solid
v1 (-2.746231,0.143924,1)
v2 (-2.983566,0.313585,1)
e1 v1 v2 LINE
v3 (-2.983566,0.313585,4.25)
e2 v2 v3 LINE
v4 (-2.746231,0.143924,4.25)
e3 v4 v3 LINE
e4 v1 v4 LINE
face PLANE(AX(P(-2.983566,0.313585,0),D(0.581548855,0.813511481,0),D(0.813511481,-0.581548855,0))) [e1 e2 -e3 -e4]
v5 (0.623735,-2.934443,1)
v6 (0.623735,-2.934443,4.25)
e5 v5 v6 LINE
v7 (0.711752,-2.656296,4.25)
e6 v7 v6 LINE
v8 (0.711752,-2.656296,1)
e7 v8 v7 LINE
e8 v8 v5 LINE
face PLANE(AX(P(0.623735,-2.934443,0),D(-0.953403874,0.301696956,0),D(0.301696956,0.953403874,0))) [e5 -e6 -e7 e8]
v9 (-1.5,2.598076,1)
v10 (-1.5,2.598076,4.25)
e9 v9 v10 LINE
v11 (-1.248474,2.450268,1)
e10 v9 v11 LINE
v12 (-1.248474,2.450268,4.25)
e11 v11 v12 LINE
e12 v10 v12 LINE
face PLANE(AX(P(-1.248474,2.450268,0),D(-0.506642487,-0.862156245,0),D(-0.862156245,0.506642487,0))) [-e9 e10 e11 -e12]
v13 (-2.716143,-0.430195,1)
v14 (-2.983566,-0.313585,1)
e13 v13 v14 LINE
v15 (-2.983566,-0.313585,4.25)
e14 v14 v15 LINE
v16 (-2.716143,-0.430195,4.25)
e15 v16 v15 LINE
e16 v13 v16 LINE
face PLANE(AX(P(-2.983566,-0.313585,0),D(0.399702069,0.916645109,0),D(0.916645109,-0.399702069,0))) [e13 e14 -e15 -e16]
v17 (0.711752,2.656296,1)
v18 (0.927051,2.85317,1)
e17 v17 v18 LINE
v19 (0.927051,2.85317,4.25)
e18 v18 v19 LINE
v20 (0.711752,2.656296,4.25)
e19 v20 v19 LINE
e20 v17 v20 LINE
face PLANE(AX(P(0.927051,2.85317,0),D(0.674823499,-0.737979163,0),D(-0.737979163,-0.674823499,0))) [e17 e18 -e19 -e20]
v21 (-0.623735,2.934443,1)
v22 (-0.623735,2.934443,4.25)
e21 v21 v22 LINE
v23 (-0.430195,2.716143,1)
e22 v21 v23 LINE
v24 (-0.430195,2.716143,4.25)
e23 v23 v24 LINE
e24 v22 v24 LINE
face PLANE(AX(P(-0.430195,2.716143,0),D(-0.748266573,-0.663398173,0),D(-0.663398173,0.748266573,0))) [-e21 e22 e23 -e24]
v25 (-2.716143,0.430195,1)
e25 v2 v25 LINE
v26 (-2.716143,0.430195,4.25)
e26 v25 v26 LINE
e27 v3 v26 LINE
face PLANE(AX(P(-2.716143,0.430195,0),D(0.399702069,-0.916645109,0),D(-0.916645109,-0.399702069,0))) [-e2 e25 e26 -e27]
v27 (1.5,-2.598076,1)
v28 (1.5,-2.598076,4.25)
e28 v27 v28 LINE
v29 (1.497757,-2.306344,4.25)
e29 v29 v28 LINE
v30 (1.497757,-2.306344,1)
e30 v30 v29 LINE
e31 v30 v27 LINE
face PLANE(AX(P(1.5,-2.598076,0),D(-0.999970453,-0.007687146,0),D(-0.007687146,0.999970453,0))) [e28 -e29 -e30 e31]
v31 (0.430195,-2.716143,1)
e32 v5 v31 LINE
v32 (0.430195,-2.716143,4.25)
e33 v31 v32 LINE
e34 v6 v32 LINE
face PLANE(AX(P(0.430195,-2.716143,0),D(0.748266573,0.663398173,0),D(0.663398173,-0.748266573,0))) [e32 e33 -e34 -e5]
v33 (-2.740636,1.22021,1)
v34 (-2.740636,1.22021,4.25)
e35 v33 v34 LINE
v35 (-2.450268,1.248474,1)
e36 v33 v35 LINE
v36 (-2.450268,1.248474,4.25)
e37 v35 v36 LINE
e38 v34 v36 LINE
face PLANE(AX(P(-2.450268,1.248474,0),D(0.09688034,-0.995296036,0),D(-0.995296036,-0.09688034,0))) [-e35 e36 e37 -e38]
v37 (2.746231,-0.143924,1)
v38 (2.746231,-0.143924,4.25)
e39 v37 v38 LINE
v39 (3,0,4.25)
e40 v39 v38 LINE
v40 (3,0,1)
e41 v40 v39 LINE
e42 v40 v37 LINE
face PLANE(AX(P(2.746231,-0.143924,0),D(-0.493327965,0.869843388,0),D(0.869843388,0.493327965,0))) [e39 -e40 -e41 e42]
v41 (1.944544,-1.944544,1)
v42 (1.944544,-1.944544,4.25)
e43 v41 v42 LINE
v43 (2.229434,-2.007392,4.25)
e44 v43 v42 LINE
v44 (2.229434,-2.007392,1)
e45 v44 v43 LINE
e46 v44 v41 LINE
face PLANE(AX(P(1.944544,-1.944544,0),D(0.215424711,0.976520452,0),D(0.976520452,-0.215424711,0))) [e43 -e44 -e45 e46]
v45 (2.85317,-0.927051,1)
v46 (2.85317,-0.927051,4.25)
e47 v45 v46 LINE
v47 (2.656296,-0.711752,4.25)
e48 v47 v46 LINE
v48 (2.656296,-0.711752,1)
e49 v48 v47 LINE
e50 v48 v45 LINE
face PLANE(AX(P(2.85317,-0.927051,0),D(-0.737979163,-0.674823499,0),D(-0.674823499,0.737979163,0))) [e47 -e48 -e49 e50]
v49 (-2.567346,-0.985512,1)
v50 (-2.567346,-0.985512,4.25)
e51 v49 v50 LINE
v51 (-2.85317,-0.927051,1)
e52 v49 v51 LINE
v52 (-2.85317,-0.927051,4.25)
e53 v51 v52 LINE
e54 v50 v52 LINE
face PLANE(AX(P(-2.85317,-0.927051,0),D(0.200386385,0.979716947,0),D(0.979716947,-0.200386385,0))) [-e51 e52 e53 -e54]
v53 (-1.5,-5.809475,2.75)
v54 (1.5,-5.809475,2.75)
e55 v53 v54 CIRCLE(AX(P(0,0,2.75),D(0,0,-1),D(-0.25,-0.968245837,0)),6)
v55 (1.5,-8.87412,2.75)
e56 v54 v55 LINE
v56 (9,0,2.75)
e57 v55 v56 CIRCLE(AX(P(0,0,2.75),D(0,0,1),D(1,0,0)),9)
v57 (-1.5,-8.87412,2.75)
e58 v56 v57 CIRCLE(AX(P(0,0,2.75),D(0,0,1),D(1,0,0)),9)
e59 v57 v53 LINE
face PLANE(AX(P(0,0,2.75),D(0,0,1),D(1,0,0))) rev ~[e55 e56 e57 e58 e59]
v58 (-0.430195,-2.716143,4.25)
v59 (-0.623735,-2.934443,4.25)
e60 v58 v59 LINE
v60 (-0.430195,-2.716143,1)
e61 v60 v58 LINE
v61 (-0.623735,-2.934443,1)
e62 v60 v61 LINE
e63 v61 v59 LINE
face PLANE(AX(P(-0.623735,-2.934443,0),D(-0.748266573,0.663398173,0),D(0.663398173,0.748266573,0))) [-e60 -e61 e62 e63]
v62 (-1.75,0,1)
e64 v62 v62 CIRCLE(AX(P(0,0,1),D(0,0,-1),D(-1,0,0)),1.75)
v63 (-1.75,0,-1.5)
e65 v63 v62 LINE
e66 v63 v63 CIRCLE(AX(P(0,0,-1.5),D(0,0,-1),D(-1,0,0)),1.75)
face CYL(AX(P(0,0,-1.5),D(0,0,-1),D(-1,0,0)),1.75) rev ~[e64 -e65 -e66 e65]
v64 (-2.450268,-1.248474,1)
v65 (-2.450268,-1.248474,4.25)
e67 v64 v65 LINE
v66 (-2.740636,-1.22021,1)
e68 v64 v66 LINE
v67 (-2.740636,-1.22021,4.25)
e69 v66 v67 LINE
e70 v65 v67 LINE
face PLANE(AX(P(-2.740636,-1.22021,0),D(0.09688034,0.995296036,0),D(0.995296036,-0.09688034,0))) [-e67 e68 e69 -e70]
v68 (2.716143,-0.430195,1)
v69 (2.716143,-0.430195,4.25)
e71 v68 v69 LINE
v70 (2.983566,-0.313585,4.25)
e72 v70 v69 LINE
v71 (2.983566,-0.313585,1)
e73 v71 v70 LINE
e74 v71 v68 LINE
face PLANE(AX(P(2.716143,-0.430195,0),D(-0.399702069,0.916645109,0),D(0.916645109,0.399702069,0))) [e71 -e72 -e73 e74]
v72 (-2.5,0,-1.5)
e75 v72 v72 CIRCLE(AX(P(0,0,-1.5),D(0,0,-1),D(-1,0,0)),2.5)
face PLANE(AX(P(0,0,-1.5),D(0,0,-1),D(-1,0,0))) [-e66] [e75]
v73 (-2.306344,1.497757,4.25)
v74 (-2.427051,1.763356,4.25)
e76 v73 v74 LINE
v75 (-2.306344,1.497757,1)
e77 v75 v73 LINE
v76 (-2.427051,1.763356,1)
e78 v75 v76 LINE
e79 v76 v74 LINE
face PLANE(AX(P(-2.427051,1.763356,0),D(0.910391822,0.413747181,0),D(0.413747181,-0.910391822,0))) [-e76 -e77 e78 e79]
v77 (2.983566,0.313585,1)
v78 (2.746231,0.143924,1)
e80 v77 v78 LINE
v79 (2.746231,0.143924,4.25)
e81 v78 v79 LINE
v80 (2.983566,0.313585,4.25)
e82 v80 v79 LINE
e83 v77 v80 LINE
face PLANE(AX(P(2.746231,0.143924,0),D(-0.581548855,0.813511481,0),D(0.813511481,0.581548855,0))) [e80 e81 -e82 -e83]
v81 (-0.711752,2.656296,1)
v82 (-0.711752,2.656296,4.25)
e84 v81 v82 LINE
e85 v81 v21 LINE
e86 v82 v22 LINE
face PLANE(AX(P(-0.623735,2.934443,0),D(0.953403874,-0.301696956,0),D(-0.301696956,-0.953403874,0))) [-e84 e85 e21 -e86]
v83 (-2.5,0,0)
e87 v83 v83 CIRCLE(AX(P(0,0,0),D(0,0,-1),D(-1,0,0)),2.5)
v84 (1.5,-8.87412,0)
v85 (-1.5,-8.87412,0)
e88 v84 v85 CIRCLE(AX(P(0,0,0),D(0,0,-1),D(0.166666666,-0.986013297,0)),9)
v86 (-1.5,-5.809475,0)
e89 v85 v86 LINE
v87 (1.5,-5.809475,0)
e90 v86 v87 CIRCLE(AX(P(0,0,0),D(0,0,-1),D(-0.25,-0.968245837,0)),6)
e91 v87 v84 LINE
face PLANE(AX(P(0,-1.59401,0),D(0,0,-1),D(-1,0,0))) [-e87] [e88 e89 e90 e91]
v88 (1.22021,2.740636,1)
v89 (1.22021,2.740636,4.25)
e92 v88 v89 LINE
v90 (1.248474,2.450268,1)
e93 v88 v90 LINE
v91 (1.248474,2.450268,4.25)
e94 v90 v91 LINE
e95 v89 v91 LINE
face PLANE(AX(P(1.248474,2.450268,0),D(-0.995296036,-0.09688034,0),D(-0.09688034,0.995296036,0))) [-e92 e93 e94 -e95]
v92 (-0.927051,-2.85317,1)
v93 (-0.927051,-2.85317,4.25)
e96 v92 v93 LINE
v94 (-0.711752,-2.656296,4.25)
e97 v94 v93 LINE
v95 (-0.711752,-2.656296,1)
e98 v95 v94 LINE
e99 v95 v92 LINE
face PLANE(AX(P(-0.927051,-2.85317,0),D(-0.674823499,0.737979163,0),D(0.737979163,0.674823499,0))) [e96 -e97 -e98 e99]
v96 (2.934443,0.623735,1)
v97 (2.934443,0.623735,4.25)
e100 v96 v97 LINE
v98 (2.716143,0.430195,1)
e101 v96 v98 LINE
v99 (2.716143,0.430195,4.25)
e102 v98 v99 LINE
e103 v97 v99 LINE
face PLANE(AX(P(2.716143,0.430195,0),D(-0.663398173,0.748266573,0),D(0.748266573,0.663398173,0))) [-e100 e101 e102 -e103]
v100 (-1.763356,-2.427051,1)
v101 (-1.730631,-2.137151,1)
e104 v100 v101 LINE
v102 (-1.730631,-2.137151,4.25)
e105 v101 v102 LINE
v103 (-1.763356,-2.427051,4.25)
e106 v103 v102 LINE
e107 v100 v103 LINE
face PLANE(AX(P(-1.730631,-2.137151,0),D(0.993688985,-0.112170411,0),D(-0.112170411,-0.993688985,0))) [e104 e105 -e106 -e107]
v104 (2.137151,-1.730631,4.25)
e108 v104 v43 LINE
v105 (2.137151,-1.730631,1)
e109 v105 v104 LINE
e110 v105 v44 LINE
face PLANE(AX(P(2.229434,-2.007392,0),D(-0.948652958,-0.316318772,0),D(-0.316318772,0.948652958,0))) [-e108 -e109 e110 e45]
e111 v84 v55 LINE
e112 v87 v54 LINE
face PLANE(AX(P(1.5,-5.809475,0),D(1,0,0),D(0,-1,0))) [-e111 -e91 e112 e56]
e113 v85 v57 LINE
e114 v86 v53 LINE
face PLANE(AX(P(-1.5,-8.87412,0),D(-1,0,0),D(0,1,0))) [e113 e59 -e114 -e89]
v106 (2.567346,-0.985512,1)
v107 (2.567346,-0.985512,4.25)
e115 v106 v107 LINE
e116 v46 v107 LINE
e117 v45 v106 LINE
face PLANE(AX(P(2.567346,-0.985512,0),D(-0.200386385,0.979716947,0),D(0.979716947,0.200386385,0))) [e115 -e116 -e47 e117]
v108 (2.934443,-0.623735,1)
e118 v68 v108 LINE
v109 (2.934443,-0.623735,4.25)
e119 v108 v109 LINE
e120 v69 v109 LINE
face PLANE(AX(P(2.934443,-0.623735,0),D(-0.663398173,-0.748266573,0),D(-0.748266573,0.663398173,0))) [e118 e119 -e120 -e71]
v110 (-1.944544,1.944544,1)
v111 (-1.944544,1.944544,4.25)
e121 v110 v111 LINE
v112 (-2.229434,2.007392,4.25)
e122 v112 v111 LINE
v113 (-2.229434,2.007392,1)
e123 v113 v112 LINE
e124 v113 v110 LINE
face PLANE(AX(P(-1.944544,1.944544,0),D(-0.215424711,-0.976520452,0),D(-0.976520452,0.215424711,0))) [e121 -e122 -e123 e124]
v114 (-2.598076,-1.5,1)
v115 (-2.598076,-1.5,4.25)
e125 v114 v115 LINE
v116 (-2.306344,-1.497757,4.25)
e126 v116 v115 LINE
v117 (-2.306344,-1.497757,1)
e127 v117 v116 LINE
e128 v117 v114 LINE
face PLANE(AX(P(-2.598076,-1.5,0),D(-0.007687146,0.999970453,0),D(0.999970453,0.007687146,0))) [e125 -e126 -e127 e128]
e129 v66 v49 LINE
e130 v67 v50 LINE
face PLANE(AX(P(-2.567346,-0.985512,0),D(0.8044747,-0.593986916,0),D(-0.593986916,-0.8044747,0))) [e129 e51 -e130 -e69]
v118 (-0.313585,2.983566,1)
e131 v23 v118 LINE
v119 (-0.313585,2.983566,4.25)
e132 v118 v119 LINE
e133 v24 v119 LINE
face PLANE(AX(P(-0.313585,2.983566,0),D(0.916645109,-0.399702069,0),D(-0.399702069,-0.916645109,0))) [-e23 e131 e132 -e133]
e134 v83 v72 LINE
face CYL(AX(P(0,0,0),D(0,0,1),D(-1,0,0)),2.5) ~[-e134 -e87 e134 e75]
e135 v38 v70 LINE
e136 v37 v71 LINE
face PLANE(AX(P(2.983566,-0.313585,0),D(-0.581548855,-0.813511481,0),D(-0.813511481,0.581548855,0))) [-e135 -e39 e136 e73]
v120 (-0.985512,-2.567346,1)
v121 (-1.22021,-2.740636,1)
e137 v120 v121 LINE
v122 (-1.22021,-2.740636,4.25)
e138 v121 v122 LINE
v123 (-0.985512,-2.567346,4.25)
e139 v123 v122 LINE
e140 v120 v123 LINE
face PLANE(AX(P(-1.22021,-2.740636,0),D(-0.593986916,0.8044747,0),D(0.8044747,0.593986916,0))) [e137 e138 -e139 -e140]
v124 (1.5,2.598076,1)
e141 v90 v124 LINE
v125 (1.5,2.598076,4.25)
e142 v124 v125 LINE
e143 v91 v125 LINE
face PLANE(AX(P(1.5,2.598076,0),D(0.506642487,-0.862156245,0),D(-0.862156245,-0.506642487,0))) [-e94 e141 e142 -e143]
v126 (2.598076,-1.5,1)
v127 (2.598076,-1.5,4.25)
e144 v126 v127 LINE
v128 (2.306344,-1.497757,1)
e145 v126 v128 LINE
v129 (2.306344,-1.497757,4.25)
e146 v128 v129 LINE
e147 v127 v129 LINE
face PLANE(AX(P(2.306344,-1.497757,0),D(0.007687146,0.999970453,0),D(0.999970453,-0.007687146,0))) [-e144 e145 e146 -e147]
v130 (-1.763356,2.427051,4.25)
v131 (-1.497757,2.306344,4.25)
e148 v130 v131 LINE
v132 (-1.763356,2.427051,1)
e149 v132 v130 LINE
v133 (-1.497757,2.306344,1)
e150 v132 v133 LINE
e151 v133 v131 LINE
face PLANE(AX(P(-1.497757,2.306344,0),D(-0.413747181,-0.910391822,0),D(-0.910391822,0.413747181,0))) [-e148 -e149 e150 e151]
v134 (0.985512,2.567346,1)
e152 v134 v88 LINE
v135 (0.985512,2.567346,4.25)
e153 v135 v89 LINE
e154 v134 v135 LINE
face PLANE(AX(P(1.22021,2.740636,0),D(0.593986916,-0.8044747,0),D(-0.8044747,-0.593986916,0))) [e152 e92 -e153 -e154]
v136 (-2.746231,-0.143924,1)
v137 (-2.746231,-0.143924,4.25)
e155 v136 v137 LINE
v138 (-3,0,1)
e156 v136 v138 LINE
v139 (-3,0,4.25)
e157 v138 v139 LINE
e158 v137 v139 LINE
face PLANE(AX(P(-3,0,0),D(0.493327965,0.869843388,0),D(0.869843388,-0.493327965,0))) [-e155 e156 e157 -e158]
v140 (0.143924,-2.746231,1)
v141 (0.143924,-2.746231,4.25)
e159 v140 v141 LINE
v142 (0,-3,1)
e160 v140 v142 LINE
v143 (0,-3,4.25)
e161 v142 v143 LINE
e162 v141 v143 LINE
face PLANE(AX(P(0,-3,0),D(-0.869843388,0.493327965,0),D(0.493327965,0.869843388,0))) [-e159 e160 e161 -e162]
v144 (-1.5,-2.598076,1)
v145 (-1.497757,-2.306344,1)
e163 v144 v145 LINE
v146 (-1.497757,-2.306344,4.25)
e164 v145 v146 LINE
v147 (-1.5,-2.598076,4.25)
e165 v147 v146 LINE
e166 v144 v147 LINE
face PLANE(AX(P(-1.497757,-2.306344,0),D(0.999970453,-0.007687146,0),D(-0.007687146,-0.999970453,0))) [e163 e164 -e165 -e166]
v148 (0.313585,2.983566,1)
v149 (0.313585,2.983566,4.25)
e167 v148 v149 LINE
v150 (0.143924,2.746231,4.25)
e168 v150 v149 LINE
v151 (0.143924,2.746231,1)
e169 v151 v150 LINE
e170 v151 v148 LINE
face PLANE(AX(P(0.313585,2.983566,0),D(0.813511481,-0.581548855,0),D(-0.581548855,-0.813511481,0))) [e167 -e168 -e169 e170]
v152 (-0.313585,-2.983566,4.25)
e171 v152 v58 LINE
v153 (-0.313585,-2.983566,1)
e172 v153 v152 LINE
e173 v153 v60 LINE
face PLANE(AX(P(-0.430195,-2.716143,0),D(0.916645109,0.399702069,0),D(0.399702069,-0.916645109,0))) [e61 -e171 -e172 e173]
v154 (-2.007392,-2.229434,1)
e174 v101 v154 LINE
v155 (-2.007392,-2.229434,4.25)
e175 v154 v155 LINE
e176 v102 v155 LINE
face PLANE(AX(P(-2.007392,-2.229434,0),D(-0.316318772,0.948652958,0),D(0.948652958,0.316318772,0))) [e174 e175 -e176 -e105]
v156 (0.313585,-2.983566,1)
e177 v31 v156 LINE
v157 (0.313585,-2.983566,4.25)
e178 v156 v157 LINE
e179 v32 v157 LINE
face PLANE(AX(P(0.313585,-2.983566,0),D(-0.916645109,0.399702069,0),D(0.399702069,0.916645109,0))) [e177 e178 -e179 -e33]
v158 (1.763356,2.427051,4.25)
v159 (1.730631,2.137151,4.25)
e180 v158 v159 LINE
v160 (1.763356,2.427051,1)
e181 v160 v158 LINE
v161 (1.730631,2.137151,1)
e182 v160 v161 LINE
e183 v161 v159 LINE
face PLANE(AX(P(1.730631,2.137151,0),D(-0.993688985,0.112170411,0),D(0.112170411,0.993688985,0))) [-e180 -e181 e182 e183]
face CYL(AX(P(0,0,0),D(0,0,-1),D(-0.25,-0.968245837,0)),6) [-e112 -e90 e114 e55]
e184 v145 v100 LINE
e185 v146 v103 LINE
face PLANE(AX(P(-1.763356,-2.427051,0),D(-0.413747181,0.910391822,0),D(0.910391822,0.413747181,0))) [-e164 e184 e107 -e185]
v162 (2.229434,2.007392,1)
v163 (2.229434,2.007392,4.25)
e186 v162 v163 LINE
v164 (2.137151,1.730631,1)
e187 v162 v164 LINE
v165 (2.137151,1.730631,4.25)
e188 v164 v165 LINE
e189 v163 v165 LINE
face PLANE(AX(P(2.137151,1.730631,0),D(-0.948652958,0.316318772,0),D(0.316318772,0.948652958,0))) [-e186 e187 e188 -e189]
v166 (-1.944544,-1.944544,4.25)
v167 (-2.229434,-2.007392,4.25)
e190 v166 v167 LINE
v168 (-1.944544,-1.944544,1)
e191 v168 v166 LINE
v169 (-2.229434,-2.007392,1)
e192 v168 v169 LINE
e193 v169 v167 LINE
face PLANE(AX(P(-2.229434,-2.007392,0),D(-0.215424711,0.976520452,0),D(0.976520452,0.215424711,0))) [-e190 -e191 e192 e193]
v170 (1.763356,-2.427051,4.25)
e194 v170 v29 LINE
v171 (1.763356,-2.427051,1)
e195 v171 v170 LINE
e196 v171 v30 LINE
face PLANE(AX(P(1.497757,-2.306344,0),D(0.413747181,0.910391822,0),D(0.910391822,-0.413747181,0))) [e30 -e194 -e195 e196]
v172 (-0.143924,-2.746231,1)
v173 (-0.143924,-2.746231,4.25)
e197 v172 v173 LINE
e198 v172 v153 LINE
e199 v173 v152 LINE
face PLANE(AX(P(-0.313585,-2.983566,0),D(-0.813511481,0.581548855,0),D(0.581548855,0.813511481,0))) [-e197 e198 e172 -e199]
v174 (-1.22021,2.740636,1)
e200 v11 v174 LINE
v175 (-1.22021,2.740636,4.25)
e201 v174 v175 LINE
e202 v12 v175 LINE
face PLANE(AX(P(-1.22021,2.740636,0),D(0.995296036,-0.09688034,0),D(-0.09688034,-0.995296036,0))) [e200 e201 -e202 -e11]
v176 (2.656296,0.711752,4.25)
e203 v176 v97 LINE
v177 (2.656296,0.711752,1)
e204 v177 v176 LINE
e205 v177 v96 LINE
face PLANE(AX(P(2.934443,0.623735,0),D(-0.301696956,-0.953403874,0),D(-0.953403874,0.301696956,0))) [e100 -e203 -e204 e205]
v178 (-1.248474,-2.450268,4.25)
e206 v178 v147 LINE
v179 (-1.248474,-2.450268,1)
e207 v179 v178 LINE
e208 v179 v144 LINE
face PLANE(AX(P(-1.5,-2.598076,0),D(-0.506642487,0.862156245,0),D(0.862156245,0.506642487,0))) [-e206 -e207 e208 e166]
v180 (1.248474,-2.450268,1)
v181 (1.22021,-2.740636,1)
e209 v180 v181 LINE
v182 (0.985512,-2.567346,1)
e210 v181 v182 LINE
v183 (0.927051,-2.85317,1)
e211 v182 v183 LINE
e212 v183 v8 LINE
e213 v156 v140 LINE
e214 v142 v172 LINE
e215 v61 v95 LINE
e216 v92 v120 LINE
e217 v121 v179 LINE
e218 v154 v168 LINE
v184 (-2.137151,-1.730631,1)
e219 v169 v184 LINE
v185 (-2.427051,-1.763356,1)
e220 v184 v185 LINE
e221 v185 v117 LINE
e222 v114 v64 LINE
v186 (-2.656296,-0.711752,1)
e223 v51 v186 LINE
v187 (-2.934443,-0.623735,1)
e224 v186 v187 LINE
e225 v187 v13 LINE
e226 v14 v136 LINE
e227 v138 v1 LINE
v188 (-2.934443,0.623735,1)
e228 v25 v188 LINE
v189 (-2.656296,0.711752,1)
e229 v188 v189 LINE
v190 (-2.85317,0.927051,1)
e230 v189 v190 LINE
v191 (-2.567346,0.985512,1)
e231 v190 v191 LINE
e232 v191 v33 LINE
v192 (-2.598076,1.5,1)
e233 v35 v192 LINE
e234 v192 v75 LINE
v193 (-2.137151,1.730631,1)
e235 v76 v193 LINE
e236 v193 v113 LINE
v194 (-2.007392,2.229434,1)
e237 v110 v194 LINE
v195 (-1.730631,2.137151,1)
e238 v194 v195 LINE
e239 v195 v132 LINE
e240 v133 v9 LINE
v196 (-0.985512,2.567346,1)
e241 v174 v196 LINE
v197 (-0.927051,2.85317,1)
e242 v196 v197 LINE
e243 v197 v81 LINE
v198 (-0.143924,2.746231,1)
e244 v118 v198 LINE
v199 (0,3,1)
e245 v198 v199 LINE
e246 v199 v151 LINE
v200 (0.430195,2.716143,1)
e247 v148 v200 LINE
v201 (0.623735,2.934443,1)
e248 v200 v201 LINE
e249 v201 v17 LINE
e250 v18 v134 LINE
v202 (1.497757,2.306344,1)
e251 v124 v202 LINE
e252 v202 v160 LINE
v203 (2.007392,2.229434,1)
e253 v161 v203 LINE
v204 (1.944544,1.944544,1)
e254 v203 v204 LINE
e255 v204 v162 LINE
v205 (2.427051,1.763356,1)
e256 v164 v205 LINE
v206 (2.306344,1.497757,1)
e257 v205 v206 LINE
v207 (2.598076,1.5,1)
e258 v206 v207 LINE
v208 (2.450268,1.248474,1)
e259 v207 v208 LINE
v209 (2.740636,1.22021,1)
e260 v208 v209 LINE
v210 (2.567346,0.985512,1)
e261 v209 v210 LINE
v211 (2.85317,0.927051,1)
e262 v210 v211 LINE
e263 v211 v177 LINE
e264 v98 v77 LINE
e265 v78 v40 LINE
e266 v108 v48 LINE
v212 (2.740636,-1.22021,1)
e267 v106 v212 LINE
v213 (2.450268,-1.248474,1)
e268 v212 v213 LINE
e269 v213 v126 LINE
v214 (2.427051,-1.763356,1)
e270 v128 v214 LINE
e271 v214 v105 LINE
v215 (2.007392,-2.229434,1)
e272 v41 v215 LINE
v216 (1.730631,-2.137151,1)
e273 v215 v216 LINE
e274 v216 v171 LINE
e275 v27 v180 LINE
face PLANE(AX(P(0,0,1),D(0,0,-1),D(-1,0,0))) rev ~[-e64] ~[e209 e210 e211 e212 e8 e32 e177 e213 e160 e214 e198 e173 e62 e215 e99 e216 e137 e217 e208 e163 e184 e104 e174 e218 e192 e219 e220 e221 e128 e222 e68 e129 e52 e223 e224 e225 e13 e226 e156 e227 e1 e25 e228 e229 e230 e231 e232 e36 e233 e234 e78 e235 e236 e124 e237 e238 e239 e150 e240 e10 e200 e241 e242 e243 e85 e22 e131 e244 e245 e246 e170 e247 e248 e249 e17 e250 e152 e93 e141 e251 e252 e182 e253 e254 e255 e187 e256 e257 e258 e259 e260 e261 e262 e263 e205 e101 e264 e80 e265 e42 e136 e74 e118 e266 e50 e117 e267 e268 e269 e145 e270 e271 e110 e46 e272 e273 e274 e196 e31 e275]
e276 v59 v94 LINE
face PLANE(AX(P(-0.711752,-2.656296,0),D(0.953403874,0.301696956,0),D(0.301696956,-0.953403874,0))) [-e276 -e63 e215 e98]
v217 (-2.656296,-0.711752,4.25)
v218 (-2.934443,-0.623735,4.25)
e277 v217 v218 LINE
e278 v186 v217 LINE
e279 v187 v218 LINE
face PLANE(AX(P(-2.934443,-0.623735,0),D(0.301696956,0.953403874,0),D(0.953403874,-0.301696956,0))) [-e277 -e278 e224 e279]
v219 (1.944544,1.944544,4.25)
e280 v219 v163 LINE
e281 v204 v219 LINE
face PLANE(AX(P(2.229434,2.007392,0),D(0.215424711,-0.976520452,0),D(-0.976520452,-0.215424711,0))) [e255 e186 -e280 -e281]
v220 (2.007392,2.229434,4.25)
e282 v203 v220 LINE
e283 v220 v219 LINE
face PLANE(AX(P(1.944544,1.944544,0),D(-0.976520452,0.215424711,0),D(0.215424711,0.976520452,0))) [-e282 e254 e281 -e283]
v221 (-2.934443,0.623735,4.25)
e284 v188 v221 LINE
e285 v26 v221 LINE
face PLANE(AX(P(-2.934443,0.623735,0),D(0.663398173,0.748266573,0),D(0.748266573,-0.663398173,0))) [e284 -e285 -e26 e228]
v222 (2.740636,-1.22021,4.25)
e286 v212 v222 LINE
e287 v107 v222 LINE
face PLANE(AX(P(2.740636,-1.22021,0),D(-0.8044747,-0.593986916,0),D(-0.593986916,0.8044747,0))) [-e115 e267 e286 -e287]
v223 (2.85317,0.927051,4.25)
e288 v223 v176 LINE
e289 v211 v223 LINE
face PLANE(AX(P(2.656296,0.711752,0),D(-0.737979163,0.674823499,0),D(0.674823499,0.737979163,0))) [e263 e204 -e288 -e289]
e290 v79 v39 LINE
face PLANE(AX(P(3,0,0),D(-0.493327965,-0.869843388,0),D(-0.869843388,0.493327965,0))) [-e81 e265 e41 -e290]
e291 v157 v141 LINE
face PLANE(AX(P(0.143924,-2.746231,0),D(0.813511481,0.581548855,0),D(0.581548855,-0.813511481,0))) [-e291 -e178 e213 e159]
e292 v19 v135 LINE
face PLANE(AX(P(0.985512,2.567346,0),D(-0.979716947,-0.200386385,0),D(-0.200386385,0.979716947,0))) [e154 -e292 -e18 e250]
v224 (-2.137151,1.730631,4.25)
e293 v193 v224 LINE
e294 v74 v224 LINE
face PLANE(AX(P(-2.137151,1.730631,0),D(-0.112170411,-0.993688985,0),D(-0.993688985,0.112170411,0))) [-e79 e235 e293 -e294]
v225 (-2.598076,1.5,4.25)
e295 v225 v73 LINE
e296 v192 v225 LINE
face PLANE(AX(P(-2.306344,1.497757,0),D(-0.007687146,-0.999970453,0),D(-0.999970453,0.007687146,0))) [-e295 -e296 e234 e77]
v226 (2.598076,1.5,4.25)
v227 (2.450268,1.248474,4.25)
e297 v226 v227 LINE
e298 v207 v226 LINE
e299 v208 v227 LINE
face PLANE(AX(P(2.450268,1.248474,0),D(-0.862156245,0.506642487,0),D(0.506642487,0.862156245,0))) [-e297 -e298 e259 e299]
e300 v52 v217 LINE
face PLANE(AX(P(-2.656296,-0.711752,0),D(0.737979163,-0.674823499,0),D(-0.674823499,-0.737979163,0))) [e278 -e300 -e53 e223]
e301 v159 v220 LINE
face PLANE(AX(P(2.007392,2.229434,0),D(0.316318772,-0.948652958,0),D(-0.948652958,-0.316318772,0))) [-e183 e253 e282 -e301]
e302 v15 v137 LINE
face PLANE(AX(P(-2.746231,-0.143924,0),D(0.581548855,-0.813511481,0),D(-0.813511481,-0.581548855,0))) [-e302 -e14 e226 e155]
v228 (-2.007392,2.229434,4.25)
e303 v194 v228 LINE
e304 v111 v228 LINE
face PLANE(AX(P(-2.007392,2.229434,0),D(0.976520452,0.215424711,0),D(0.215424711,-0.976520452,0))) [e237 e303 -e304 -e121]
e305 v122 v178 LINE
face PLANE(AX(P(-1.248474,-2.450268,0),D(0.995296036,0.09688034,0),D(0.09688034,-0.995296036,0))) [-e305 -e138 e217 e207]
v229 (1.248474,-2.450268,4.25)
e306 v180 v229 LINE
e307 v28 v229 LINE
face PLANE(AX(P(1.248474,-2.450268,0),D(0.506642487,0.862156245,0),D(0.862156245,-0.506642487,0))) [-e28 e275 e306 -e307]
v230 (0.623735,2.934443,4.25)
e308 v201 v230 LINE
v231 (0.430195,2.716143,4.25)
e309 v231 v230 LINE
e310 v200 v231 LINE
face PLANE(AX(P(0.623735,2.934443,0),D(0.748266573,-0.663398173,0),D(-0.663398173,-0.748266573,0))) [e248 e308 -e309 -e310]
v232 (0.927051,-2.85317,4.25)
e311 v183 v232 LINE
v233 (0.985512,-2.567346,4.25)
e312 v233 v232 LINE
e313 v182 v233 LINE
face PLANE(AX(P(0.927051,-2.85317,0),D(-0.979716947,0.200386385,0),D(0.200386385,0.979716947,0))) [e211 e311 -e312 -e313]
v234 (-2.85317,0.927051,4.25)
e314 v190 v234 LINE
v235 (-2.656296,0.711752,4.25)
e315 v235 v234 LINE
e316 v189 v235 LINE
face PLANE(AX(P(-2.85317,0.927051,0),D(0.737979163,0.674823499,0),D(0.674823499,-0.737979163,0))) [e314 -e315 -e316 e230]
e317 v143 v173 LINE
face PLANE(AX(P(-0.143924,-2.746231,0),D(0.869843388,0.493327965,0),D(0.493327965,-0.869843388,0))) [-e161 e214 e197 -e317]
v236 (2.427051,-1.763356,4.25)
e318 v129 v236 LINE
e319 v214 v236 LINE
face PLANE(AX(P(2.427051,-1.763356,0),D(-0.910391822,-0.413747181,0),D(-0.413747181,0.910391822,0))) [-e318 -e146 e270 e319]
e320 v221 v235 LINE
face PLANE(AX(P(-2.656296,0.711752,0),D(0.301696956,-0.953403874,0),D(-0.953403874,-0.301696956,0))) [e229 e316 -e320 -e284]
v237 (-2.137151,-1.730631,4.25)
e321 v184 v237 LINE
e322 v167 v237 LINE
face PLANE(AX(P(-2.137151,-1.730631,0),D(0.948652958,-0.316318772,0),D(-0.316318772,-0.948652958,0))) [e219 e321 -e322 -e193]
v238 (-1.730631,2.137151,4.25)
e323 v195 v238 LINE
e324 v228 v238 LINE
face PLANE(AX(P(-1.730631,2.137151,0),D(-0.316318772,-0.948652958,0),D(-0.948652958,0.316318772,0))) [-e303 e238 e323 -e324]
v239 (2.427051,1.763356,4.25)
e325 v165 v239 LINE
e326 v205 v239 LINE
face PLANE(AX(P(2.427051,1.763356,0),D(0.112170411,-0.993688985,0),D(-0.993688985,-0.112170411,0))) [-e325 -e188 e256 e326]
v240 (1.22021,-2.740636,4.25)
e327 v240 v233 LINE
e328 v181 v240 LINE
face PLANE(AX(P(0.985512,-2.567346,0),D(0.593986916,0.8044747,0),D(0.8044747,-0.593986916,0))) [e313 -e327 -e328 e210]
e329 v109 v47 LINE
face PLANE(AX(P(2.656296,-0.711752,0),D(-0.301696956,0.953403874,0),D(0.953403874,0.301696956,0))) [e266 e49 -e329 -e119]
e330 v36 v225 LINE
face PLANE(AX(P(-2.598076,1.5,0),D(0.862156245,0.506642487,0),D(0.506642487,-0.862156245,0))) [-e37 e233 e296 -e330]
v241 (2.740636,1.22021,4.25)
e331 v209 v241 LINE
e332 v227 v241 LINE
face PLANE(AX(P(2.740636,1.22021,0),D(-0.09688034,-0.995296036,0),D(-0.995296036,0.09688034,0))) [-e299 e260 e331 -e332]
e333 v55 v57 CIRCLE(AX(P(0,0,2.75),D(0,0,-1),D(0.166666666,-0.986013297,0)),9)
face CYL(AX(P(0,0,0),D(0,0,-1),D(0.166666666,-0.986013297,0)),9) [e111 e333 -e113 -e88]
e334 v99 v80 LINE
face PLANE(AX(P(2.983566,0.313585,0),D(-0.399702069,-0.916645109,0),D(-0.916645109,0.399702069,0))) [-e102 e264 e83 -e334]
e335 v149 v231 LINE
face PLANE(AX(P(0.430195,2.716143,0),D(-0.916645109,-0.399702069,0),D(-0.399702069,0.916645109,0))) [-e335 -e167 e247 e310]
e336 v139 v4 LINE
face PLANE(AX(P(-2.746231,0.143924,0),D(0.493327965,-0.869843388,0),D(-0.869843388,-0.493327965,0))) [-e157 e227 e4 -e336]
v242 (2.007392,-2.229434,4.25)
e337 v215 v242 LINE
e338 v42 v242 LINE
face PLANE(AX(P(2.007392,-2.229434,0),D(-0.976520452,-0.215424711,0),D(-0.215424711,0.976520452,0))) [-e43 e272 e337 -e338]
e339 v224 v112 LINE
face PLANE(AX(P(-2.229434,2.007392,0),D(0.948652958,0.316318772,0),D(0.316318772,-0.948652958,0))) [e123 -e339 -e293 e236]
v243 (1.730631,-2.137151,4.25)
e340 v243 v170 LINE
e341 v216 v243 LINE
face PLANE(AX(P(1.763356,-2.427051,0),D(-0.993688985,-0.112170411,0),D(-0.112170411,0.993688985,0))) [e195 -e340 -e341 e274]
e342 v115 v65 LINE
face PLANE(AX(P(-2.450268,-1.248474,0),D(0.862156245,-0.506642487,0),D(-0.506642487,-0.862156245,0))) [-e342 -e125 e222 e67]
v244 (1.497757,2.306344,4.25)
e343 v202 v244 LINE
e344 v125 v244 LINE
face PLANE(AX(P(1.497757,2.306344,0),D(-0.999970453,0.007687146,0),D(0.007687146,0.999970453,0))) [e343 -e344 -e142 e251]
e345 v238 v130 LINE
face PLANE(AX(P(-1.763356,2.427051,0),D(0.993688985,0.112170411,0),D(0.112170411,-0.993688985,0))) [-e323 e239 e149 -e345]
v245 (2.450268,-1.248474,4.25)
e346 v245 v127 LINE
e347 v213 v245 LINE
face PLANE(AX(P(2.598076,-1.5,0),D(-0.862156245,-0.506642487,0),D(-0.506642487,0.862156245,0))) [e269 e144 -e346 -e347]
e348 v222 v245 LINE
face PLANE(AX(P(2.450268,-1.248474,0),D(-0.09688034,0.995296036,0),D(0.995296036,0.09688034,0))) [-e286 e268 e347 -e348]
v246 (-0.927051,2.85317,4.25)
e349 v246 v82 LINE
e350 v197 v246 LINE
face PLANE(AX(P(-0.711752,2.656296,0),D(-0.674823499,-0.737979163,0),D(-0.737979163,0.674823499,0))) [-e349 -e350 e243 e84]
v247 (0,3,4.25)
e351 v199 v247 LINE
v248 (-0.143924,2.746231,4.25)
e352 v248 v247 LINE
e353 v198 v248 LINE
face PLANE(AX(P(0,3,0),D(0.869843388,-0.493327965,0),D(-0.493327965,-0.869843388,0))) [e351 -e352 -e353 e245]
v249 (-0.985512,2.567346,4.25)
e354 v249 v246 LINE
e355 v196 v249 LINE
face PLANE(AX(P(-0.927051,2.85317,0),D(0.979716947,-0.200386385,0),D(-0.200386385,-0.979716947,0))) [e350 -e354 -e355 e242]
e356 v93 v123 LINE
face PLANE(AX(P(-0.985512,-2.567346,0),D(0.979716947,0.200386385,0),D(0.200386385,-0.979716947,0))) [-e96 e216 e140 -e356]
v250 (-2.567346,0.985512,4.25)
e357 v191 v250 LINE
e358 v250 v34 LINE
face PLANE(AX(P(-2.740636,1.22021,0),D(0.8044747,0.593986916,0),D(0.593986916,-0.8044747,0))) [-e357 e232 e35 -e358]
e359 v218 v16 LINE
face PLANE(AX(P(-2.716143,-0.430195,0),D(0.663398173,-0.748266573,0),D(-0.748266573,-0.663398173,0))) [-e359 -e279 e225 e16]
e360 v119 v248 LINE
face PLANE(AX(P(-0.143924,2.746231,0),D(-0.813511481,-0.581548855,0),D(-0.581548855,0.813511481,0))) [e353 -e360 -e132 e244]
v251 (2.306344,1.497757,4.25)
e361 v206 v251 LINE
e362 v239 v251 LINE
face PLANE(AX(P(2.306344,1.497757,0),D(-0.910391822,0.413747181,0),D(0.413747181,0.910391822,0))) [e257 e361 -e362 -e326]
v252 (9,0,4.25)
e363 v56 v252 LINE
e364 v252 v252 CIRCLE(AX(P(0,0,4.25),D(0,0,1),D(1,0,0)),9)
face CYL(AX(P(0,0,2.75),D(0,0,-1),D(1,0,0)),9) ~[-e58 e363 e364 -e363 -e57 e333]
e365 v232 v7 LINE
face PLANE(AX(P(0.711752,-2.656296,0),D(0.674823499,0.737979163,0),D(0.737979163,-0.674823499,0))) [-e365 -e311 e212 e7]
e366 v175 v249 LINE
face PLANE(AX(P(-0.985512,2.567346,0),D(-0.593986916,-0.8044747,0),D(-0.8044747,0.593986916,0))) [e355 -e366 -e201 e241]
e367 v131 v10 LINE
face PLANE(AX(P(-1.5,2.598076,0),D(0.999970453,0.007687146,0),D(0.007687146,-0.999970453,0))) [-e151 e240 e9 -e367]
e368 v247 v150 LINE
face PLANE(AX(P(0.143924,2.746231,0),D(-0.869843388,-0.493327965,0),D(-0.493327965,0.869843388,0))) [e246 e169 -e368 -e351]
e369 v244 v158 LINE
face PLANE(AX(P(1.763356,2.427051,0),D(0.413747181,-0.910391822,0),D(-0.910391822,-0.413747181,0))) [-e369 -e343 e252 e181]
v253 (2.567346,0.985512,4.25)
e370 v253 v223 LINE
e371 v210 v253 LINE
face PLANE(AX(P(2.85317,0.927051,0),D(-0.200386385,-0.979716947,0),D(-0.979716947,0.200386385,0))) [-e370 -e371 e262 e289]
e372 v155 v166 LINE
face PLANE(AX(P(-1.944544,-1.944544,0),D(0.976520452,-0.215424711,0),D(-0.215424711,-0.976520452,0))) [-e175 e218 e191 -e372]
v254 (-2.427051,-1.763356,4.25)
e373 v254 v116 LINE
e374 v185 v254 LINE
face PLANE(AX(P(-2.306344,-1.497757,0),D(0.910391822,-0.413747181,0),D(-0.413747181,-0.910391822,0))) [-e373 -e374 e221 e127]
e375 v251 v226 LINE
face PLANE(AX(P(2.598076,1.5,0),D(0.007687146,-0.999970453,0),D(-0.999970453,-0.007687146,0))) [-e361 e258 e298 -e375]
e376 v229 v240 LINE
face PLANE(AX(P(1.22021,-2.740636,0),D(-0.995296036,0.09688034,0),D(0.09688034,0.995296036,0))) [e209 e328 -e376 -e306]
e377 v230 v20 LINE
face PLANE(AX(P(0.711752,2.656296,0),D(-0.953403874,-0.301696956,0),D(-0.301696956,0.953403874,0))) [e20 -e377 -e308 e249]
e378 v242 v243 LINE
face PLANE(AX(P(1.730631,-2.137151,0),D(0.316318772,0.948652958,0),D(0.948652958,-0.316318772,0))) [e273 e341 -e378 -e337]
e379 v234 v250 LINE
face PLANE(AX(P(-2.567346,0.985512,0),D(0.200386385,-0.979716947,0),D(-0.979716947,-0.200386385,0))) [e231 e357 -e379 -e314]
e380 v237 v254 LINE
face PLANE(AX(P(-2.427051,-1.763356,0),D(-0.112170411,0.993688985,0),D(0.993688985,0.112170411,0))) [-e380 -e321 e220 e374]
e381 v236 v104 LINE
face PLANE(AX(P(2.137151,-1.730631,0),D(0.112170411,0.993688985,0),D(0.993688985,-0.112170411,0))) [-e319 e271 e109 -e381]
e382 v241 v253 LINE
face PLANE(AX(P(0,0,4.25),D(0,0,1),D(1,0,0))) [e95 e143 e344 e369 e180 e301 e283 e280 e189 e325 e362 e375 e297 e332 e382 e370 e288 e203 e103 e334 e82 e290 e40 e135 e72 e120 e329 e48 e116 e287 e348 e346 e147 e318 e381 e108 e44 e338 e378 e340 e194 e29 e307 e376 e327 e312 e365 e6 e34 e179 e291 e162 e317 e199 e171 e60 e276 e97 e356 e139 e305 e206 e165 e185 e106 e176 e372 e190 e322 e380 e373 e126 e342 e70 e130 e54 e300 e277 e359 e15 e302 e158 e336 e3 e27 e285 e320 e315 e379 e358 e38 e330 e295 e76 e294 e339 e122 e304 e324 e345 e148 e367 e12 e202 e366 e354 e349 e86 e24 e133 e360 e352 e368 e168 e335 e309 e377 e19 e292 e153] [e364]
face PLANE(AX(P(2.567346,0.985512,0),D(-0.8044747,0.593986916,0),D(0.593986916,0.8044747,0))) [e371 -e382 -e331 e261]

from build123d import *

# Parameters (mm, degrees)
BASE_EXTRUSION_DEPTH    = 2.75
ESQUISSE3_R             = 9
BOSS_EXTRU_1_DEPTH      = 1.5
ENL_V_MAT_EXTRU_2_DEPTH = 5.25
ESQUISSE5_R             = 4
BOSS_EXTRU_2_DEPTH      = 1
ESQUISSE6_R             = 2.5
BOSS_EXTRU_3_DEPTH      = 1.5
ESQUISSE7_R             = 1.75
ENL_V_MAT_EXTRU_3_DEPTH = 6.75


with BuildPart() as part:
    # Esquisse2 → Base-Extrusion (new body)
    with BuildSketch(Plane.XY):
        with BuildLine():
            Line((1.5, -5.809475019), (1.5, -8.874119675))
            ThreePointArc((1.5, -8.874119675), (0, -9), (-1.5, -8.874119675))
            Line((-1.5, -8.874119675), (-1.5, -5.809475019))
            ThreePointArc((-1.5, -5.809475019), (0, 6), (1.5, -5.809475019))
        make_face()
    extrude(amount=BASE_EXTRUSION_DEPTH)

    # Esquisse3 → Boss.-Extru.1 (add)
    with BuildSketch(Plane.XY.offset(2.75)):
        Circle(ESQUISSE3_R)
    extrude(amount=BOSS_EXTRU_1_DEPTH)

    # Esquisse1 → Enlèv. mat.-Extru.2 (cut, through all)
    with BuildSketch(Plane.XY):
        Polygon((0, 3), (-0.14392388, 2.746231221), (-0.31358539, 2.983565686), (-0.430194779, 2.716142937), (-0.623735072, 2.934442802), (-0.711752374, 2.656296022), (-0.927050983, 2.853169549), (-0.985511861, 2.567346173), (-1.220209929, 2.740636373), (-1.248473874, 2.450267942), (-1.5, 2.598076211), (-1.497757346, 2.306344062), (-1.763355757, 2.427050983), (-1.730631075, 2.137151394), (-2.007391819, 2.229434476), (-1.944543648, 1.944543648), (-2.229434476, 2.007391819), (-2.137151394, 1.730631075), (-2.427050983, 1.763355757), (-2.306344062, 1.497757346), (-2.598076211, 1.5), (-2.450267942, 1.248473874), (-2.740636373, 1.220209929), (-2.567346173, 0.985511861), (-2.853169549, 0.927050983), (-2.656296022, 0.711752374), (-2.934442802, 0.623735072), (-2.716142937, 0.430194779), (-2.983565686, 0.31358539), (-2.746231221, 0.14392388), (-3, 0), (-2.746231221, -0.14392388), (-2.983565686, -0.31358539), (-2.716142937, -0.430194779), (-2.934442802, -0.623735072), (-2.656296022, -0.711752374), (-2.853169549, -0.927050983), (-2.567346173, -0.985511861), (-2.740636373, -1.220209929), (-2.450267942, -1.248473874), (-2.598076211, -1.5), (-2.306344062, -1.497757346), (-2.427050983, -1.763355757), (-2.137151394, -1.730631075), (-2.229434476, -2.007391819), (-1.944543648, -1.944543648), (-2.007391819, -2.229434476), (-1.730631075, -2.137151394), (-1.763355757, -2.427050983), (-1.497757346, -2.306344062), (-1.5, -2.598076211), (-1.248473874, -2.450267942), (-1.220209929, -2.740636373), (-0.985511861, -2.567346173), (-0.927050983, -2.853169549), (-0.711752374, -2.656296022), (-0.623735072, -2.934442802), (-0.430194779, -2.716142937), (-0.31358539, -2.983565686), (-0.14392388, -2.746231221), (0, -3), (0.14392388, -2.746231221), (0.31358539, -2.983565686), (0.430194779, -2.716142937), (0.623735072, -2.934442802), (0.711752374, -2.656296022), (0.927050983, -2.853169549), (0.985511861, -2.567346173), (1.220209929, -2.740636373), (1.248473874, -2.450267942), (1.5, -2.598076211), (1.497757346, -2.306344062), (1.763355757, -2.427050983), (1.730631075, -2.137151394), (2.007391819, -2.229434476), (1.944543648, -1.944543648), (2.229434476, -2.007391819), (2.137151394, -1.730631075), (2.427050983, -1.763355757), (2.306344062, -1.497757346), (2.598076211, -1.5), (2.450267942, -1.248473874), (2.740636373, -1.220209929), (2.567346173, -0.985511861), (2.853169549, -0.927050983), (2.656296022, -0.711752374), (2.934442802, -0.623735072), (2.716142937, -0.430194779), (2.983565686, -0.31358539), (2.746231221, -0.14392388), (3, 0), (2.746231221, 0.14392388), (2.983565686, 0.31358539), (2.716142937, 0.430194779), (2.934442802, 0.623735072), (2.656296022, 0.711752374), (2.853169549, 0.927050983), (2.567346173, 0.985511861), (2.740636373, 1.220209929), (2.450267942, 1.248473874), (2.598076211, 1.5), (2.306344062, 1.497757346), (2.427050983, 1.763355757), (2.137151394, 1.730631075), (2.229434476, 2.007391819), (1.944543648, 1.944543648), (2.007391819, 2.229434476), (1.730631075, 2.137151394), (1.763355757, 2.427050983), (1.497757346, 2.306344062), (1.5, 2.598076211), (1.248473874, 2.450267942), (1.220209929, 2.740636373), (0.985511861, 2.567346173), (0.927050983, 2.853169549), (0.711752374, 2.656296022), (0.623735072, 2.934442802), (0.430194779, 2.716142937), (0.31358539, 2.983565686), (0.14392388, 2.746231221), align=None)
    extrude(amount=ENL_V_MAT_EXTRU_2_DEPTH, mode=Mode.SUBTRACT)

    # Esquisse5 → Boss.-Extru.2 (add)
    with BuildSketch(Plane(origin=(0, 0, 0), x_dir=(-1, 0, 0), z_dir=(0, 0, -1))):
        Circle(ESQUISSE5_R)
    extrude(amount=-BOSS_EXTRU_2_DEPTH)

    # Esquisse6 → Boss.-Extru.3 (add)
    with BuildSketch(Plane(origin=(0, 0, 0), x_dir=(-1, 0, 0), z_dir=(0, 0, -1))):
        Circle(ESQUISSE6_R)
    extrude(amount=BOSS_EXTRU_3_DEPTH)

    # Esquisse7 → Enlèv. mat.-Extru.3 (cut, through all)
    with BuildSketch(Plane(origin=(0, 0, -1.5), x_dir=(-1, 0, 0), z_dir=(0, 0, -1))):
        Circle(ESQUISSE7_R)
    extrude(amount=-ENL_V_MAT_EXTRU_3_DEPTH, mode=Mode.SUBTRACT)


solid = part.part
